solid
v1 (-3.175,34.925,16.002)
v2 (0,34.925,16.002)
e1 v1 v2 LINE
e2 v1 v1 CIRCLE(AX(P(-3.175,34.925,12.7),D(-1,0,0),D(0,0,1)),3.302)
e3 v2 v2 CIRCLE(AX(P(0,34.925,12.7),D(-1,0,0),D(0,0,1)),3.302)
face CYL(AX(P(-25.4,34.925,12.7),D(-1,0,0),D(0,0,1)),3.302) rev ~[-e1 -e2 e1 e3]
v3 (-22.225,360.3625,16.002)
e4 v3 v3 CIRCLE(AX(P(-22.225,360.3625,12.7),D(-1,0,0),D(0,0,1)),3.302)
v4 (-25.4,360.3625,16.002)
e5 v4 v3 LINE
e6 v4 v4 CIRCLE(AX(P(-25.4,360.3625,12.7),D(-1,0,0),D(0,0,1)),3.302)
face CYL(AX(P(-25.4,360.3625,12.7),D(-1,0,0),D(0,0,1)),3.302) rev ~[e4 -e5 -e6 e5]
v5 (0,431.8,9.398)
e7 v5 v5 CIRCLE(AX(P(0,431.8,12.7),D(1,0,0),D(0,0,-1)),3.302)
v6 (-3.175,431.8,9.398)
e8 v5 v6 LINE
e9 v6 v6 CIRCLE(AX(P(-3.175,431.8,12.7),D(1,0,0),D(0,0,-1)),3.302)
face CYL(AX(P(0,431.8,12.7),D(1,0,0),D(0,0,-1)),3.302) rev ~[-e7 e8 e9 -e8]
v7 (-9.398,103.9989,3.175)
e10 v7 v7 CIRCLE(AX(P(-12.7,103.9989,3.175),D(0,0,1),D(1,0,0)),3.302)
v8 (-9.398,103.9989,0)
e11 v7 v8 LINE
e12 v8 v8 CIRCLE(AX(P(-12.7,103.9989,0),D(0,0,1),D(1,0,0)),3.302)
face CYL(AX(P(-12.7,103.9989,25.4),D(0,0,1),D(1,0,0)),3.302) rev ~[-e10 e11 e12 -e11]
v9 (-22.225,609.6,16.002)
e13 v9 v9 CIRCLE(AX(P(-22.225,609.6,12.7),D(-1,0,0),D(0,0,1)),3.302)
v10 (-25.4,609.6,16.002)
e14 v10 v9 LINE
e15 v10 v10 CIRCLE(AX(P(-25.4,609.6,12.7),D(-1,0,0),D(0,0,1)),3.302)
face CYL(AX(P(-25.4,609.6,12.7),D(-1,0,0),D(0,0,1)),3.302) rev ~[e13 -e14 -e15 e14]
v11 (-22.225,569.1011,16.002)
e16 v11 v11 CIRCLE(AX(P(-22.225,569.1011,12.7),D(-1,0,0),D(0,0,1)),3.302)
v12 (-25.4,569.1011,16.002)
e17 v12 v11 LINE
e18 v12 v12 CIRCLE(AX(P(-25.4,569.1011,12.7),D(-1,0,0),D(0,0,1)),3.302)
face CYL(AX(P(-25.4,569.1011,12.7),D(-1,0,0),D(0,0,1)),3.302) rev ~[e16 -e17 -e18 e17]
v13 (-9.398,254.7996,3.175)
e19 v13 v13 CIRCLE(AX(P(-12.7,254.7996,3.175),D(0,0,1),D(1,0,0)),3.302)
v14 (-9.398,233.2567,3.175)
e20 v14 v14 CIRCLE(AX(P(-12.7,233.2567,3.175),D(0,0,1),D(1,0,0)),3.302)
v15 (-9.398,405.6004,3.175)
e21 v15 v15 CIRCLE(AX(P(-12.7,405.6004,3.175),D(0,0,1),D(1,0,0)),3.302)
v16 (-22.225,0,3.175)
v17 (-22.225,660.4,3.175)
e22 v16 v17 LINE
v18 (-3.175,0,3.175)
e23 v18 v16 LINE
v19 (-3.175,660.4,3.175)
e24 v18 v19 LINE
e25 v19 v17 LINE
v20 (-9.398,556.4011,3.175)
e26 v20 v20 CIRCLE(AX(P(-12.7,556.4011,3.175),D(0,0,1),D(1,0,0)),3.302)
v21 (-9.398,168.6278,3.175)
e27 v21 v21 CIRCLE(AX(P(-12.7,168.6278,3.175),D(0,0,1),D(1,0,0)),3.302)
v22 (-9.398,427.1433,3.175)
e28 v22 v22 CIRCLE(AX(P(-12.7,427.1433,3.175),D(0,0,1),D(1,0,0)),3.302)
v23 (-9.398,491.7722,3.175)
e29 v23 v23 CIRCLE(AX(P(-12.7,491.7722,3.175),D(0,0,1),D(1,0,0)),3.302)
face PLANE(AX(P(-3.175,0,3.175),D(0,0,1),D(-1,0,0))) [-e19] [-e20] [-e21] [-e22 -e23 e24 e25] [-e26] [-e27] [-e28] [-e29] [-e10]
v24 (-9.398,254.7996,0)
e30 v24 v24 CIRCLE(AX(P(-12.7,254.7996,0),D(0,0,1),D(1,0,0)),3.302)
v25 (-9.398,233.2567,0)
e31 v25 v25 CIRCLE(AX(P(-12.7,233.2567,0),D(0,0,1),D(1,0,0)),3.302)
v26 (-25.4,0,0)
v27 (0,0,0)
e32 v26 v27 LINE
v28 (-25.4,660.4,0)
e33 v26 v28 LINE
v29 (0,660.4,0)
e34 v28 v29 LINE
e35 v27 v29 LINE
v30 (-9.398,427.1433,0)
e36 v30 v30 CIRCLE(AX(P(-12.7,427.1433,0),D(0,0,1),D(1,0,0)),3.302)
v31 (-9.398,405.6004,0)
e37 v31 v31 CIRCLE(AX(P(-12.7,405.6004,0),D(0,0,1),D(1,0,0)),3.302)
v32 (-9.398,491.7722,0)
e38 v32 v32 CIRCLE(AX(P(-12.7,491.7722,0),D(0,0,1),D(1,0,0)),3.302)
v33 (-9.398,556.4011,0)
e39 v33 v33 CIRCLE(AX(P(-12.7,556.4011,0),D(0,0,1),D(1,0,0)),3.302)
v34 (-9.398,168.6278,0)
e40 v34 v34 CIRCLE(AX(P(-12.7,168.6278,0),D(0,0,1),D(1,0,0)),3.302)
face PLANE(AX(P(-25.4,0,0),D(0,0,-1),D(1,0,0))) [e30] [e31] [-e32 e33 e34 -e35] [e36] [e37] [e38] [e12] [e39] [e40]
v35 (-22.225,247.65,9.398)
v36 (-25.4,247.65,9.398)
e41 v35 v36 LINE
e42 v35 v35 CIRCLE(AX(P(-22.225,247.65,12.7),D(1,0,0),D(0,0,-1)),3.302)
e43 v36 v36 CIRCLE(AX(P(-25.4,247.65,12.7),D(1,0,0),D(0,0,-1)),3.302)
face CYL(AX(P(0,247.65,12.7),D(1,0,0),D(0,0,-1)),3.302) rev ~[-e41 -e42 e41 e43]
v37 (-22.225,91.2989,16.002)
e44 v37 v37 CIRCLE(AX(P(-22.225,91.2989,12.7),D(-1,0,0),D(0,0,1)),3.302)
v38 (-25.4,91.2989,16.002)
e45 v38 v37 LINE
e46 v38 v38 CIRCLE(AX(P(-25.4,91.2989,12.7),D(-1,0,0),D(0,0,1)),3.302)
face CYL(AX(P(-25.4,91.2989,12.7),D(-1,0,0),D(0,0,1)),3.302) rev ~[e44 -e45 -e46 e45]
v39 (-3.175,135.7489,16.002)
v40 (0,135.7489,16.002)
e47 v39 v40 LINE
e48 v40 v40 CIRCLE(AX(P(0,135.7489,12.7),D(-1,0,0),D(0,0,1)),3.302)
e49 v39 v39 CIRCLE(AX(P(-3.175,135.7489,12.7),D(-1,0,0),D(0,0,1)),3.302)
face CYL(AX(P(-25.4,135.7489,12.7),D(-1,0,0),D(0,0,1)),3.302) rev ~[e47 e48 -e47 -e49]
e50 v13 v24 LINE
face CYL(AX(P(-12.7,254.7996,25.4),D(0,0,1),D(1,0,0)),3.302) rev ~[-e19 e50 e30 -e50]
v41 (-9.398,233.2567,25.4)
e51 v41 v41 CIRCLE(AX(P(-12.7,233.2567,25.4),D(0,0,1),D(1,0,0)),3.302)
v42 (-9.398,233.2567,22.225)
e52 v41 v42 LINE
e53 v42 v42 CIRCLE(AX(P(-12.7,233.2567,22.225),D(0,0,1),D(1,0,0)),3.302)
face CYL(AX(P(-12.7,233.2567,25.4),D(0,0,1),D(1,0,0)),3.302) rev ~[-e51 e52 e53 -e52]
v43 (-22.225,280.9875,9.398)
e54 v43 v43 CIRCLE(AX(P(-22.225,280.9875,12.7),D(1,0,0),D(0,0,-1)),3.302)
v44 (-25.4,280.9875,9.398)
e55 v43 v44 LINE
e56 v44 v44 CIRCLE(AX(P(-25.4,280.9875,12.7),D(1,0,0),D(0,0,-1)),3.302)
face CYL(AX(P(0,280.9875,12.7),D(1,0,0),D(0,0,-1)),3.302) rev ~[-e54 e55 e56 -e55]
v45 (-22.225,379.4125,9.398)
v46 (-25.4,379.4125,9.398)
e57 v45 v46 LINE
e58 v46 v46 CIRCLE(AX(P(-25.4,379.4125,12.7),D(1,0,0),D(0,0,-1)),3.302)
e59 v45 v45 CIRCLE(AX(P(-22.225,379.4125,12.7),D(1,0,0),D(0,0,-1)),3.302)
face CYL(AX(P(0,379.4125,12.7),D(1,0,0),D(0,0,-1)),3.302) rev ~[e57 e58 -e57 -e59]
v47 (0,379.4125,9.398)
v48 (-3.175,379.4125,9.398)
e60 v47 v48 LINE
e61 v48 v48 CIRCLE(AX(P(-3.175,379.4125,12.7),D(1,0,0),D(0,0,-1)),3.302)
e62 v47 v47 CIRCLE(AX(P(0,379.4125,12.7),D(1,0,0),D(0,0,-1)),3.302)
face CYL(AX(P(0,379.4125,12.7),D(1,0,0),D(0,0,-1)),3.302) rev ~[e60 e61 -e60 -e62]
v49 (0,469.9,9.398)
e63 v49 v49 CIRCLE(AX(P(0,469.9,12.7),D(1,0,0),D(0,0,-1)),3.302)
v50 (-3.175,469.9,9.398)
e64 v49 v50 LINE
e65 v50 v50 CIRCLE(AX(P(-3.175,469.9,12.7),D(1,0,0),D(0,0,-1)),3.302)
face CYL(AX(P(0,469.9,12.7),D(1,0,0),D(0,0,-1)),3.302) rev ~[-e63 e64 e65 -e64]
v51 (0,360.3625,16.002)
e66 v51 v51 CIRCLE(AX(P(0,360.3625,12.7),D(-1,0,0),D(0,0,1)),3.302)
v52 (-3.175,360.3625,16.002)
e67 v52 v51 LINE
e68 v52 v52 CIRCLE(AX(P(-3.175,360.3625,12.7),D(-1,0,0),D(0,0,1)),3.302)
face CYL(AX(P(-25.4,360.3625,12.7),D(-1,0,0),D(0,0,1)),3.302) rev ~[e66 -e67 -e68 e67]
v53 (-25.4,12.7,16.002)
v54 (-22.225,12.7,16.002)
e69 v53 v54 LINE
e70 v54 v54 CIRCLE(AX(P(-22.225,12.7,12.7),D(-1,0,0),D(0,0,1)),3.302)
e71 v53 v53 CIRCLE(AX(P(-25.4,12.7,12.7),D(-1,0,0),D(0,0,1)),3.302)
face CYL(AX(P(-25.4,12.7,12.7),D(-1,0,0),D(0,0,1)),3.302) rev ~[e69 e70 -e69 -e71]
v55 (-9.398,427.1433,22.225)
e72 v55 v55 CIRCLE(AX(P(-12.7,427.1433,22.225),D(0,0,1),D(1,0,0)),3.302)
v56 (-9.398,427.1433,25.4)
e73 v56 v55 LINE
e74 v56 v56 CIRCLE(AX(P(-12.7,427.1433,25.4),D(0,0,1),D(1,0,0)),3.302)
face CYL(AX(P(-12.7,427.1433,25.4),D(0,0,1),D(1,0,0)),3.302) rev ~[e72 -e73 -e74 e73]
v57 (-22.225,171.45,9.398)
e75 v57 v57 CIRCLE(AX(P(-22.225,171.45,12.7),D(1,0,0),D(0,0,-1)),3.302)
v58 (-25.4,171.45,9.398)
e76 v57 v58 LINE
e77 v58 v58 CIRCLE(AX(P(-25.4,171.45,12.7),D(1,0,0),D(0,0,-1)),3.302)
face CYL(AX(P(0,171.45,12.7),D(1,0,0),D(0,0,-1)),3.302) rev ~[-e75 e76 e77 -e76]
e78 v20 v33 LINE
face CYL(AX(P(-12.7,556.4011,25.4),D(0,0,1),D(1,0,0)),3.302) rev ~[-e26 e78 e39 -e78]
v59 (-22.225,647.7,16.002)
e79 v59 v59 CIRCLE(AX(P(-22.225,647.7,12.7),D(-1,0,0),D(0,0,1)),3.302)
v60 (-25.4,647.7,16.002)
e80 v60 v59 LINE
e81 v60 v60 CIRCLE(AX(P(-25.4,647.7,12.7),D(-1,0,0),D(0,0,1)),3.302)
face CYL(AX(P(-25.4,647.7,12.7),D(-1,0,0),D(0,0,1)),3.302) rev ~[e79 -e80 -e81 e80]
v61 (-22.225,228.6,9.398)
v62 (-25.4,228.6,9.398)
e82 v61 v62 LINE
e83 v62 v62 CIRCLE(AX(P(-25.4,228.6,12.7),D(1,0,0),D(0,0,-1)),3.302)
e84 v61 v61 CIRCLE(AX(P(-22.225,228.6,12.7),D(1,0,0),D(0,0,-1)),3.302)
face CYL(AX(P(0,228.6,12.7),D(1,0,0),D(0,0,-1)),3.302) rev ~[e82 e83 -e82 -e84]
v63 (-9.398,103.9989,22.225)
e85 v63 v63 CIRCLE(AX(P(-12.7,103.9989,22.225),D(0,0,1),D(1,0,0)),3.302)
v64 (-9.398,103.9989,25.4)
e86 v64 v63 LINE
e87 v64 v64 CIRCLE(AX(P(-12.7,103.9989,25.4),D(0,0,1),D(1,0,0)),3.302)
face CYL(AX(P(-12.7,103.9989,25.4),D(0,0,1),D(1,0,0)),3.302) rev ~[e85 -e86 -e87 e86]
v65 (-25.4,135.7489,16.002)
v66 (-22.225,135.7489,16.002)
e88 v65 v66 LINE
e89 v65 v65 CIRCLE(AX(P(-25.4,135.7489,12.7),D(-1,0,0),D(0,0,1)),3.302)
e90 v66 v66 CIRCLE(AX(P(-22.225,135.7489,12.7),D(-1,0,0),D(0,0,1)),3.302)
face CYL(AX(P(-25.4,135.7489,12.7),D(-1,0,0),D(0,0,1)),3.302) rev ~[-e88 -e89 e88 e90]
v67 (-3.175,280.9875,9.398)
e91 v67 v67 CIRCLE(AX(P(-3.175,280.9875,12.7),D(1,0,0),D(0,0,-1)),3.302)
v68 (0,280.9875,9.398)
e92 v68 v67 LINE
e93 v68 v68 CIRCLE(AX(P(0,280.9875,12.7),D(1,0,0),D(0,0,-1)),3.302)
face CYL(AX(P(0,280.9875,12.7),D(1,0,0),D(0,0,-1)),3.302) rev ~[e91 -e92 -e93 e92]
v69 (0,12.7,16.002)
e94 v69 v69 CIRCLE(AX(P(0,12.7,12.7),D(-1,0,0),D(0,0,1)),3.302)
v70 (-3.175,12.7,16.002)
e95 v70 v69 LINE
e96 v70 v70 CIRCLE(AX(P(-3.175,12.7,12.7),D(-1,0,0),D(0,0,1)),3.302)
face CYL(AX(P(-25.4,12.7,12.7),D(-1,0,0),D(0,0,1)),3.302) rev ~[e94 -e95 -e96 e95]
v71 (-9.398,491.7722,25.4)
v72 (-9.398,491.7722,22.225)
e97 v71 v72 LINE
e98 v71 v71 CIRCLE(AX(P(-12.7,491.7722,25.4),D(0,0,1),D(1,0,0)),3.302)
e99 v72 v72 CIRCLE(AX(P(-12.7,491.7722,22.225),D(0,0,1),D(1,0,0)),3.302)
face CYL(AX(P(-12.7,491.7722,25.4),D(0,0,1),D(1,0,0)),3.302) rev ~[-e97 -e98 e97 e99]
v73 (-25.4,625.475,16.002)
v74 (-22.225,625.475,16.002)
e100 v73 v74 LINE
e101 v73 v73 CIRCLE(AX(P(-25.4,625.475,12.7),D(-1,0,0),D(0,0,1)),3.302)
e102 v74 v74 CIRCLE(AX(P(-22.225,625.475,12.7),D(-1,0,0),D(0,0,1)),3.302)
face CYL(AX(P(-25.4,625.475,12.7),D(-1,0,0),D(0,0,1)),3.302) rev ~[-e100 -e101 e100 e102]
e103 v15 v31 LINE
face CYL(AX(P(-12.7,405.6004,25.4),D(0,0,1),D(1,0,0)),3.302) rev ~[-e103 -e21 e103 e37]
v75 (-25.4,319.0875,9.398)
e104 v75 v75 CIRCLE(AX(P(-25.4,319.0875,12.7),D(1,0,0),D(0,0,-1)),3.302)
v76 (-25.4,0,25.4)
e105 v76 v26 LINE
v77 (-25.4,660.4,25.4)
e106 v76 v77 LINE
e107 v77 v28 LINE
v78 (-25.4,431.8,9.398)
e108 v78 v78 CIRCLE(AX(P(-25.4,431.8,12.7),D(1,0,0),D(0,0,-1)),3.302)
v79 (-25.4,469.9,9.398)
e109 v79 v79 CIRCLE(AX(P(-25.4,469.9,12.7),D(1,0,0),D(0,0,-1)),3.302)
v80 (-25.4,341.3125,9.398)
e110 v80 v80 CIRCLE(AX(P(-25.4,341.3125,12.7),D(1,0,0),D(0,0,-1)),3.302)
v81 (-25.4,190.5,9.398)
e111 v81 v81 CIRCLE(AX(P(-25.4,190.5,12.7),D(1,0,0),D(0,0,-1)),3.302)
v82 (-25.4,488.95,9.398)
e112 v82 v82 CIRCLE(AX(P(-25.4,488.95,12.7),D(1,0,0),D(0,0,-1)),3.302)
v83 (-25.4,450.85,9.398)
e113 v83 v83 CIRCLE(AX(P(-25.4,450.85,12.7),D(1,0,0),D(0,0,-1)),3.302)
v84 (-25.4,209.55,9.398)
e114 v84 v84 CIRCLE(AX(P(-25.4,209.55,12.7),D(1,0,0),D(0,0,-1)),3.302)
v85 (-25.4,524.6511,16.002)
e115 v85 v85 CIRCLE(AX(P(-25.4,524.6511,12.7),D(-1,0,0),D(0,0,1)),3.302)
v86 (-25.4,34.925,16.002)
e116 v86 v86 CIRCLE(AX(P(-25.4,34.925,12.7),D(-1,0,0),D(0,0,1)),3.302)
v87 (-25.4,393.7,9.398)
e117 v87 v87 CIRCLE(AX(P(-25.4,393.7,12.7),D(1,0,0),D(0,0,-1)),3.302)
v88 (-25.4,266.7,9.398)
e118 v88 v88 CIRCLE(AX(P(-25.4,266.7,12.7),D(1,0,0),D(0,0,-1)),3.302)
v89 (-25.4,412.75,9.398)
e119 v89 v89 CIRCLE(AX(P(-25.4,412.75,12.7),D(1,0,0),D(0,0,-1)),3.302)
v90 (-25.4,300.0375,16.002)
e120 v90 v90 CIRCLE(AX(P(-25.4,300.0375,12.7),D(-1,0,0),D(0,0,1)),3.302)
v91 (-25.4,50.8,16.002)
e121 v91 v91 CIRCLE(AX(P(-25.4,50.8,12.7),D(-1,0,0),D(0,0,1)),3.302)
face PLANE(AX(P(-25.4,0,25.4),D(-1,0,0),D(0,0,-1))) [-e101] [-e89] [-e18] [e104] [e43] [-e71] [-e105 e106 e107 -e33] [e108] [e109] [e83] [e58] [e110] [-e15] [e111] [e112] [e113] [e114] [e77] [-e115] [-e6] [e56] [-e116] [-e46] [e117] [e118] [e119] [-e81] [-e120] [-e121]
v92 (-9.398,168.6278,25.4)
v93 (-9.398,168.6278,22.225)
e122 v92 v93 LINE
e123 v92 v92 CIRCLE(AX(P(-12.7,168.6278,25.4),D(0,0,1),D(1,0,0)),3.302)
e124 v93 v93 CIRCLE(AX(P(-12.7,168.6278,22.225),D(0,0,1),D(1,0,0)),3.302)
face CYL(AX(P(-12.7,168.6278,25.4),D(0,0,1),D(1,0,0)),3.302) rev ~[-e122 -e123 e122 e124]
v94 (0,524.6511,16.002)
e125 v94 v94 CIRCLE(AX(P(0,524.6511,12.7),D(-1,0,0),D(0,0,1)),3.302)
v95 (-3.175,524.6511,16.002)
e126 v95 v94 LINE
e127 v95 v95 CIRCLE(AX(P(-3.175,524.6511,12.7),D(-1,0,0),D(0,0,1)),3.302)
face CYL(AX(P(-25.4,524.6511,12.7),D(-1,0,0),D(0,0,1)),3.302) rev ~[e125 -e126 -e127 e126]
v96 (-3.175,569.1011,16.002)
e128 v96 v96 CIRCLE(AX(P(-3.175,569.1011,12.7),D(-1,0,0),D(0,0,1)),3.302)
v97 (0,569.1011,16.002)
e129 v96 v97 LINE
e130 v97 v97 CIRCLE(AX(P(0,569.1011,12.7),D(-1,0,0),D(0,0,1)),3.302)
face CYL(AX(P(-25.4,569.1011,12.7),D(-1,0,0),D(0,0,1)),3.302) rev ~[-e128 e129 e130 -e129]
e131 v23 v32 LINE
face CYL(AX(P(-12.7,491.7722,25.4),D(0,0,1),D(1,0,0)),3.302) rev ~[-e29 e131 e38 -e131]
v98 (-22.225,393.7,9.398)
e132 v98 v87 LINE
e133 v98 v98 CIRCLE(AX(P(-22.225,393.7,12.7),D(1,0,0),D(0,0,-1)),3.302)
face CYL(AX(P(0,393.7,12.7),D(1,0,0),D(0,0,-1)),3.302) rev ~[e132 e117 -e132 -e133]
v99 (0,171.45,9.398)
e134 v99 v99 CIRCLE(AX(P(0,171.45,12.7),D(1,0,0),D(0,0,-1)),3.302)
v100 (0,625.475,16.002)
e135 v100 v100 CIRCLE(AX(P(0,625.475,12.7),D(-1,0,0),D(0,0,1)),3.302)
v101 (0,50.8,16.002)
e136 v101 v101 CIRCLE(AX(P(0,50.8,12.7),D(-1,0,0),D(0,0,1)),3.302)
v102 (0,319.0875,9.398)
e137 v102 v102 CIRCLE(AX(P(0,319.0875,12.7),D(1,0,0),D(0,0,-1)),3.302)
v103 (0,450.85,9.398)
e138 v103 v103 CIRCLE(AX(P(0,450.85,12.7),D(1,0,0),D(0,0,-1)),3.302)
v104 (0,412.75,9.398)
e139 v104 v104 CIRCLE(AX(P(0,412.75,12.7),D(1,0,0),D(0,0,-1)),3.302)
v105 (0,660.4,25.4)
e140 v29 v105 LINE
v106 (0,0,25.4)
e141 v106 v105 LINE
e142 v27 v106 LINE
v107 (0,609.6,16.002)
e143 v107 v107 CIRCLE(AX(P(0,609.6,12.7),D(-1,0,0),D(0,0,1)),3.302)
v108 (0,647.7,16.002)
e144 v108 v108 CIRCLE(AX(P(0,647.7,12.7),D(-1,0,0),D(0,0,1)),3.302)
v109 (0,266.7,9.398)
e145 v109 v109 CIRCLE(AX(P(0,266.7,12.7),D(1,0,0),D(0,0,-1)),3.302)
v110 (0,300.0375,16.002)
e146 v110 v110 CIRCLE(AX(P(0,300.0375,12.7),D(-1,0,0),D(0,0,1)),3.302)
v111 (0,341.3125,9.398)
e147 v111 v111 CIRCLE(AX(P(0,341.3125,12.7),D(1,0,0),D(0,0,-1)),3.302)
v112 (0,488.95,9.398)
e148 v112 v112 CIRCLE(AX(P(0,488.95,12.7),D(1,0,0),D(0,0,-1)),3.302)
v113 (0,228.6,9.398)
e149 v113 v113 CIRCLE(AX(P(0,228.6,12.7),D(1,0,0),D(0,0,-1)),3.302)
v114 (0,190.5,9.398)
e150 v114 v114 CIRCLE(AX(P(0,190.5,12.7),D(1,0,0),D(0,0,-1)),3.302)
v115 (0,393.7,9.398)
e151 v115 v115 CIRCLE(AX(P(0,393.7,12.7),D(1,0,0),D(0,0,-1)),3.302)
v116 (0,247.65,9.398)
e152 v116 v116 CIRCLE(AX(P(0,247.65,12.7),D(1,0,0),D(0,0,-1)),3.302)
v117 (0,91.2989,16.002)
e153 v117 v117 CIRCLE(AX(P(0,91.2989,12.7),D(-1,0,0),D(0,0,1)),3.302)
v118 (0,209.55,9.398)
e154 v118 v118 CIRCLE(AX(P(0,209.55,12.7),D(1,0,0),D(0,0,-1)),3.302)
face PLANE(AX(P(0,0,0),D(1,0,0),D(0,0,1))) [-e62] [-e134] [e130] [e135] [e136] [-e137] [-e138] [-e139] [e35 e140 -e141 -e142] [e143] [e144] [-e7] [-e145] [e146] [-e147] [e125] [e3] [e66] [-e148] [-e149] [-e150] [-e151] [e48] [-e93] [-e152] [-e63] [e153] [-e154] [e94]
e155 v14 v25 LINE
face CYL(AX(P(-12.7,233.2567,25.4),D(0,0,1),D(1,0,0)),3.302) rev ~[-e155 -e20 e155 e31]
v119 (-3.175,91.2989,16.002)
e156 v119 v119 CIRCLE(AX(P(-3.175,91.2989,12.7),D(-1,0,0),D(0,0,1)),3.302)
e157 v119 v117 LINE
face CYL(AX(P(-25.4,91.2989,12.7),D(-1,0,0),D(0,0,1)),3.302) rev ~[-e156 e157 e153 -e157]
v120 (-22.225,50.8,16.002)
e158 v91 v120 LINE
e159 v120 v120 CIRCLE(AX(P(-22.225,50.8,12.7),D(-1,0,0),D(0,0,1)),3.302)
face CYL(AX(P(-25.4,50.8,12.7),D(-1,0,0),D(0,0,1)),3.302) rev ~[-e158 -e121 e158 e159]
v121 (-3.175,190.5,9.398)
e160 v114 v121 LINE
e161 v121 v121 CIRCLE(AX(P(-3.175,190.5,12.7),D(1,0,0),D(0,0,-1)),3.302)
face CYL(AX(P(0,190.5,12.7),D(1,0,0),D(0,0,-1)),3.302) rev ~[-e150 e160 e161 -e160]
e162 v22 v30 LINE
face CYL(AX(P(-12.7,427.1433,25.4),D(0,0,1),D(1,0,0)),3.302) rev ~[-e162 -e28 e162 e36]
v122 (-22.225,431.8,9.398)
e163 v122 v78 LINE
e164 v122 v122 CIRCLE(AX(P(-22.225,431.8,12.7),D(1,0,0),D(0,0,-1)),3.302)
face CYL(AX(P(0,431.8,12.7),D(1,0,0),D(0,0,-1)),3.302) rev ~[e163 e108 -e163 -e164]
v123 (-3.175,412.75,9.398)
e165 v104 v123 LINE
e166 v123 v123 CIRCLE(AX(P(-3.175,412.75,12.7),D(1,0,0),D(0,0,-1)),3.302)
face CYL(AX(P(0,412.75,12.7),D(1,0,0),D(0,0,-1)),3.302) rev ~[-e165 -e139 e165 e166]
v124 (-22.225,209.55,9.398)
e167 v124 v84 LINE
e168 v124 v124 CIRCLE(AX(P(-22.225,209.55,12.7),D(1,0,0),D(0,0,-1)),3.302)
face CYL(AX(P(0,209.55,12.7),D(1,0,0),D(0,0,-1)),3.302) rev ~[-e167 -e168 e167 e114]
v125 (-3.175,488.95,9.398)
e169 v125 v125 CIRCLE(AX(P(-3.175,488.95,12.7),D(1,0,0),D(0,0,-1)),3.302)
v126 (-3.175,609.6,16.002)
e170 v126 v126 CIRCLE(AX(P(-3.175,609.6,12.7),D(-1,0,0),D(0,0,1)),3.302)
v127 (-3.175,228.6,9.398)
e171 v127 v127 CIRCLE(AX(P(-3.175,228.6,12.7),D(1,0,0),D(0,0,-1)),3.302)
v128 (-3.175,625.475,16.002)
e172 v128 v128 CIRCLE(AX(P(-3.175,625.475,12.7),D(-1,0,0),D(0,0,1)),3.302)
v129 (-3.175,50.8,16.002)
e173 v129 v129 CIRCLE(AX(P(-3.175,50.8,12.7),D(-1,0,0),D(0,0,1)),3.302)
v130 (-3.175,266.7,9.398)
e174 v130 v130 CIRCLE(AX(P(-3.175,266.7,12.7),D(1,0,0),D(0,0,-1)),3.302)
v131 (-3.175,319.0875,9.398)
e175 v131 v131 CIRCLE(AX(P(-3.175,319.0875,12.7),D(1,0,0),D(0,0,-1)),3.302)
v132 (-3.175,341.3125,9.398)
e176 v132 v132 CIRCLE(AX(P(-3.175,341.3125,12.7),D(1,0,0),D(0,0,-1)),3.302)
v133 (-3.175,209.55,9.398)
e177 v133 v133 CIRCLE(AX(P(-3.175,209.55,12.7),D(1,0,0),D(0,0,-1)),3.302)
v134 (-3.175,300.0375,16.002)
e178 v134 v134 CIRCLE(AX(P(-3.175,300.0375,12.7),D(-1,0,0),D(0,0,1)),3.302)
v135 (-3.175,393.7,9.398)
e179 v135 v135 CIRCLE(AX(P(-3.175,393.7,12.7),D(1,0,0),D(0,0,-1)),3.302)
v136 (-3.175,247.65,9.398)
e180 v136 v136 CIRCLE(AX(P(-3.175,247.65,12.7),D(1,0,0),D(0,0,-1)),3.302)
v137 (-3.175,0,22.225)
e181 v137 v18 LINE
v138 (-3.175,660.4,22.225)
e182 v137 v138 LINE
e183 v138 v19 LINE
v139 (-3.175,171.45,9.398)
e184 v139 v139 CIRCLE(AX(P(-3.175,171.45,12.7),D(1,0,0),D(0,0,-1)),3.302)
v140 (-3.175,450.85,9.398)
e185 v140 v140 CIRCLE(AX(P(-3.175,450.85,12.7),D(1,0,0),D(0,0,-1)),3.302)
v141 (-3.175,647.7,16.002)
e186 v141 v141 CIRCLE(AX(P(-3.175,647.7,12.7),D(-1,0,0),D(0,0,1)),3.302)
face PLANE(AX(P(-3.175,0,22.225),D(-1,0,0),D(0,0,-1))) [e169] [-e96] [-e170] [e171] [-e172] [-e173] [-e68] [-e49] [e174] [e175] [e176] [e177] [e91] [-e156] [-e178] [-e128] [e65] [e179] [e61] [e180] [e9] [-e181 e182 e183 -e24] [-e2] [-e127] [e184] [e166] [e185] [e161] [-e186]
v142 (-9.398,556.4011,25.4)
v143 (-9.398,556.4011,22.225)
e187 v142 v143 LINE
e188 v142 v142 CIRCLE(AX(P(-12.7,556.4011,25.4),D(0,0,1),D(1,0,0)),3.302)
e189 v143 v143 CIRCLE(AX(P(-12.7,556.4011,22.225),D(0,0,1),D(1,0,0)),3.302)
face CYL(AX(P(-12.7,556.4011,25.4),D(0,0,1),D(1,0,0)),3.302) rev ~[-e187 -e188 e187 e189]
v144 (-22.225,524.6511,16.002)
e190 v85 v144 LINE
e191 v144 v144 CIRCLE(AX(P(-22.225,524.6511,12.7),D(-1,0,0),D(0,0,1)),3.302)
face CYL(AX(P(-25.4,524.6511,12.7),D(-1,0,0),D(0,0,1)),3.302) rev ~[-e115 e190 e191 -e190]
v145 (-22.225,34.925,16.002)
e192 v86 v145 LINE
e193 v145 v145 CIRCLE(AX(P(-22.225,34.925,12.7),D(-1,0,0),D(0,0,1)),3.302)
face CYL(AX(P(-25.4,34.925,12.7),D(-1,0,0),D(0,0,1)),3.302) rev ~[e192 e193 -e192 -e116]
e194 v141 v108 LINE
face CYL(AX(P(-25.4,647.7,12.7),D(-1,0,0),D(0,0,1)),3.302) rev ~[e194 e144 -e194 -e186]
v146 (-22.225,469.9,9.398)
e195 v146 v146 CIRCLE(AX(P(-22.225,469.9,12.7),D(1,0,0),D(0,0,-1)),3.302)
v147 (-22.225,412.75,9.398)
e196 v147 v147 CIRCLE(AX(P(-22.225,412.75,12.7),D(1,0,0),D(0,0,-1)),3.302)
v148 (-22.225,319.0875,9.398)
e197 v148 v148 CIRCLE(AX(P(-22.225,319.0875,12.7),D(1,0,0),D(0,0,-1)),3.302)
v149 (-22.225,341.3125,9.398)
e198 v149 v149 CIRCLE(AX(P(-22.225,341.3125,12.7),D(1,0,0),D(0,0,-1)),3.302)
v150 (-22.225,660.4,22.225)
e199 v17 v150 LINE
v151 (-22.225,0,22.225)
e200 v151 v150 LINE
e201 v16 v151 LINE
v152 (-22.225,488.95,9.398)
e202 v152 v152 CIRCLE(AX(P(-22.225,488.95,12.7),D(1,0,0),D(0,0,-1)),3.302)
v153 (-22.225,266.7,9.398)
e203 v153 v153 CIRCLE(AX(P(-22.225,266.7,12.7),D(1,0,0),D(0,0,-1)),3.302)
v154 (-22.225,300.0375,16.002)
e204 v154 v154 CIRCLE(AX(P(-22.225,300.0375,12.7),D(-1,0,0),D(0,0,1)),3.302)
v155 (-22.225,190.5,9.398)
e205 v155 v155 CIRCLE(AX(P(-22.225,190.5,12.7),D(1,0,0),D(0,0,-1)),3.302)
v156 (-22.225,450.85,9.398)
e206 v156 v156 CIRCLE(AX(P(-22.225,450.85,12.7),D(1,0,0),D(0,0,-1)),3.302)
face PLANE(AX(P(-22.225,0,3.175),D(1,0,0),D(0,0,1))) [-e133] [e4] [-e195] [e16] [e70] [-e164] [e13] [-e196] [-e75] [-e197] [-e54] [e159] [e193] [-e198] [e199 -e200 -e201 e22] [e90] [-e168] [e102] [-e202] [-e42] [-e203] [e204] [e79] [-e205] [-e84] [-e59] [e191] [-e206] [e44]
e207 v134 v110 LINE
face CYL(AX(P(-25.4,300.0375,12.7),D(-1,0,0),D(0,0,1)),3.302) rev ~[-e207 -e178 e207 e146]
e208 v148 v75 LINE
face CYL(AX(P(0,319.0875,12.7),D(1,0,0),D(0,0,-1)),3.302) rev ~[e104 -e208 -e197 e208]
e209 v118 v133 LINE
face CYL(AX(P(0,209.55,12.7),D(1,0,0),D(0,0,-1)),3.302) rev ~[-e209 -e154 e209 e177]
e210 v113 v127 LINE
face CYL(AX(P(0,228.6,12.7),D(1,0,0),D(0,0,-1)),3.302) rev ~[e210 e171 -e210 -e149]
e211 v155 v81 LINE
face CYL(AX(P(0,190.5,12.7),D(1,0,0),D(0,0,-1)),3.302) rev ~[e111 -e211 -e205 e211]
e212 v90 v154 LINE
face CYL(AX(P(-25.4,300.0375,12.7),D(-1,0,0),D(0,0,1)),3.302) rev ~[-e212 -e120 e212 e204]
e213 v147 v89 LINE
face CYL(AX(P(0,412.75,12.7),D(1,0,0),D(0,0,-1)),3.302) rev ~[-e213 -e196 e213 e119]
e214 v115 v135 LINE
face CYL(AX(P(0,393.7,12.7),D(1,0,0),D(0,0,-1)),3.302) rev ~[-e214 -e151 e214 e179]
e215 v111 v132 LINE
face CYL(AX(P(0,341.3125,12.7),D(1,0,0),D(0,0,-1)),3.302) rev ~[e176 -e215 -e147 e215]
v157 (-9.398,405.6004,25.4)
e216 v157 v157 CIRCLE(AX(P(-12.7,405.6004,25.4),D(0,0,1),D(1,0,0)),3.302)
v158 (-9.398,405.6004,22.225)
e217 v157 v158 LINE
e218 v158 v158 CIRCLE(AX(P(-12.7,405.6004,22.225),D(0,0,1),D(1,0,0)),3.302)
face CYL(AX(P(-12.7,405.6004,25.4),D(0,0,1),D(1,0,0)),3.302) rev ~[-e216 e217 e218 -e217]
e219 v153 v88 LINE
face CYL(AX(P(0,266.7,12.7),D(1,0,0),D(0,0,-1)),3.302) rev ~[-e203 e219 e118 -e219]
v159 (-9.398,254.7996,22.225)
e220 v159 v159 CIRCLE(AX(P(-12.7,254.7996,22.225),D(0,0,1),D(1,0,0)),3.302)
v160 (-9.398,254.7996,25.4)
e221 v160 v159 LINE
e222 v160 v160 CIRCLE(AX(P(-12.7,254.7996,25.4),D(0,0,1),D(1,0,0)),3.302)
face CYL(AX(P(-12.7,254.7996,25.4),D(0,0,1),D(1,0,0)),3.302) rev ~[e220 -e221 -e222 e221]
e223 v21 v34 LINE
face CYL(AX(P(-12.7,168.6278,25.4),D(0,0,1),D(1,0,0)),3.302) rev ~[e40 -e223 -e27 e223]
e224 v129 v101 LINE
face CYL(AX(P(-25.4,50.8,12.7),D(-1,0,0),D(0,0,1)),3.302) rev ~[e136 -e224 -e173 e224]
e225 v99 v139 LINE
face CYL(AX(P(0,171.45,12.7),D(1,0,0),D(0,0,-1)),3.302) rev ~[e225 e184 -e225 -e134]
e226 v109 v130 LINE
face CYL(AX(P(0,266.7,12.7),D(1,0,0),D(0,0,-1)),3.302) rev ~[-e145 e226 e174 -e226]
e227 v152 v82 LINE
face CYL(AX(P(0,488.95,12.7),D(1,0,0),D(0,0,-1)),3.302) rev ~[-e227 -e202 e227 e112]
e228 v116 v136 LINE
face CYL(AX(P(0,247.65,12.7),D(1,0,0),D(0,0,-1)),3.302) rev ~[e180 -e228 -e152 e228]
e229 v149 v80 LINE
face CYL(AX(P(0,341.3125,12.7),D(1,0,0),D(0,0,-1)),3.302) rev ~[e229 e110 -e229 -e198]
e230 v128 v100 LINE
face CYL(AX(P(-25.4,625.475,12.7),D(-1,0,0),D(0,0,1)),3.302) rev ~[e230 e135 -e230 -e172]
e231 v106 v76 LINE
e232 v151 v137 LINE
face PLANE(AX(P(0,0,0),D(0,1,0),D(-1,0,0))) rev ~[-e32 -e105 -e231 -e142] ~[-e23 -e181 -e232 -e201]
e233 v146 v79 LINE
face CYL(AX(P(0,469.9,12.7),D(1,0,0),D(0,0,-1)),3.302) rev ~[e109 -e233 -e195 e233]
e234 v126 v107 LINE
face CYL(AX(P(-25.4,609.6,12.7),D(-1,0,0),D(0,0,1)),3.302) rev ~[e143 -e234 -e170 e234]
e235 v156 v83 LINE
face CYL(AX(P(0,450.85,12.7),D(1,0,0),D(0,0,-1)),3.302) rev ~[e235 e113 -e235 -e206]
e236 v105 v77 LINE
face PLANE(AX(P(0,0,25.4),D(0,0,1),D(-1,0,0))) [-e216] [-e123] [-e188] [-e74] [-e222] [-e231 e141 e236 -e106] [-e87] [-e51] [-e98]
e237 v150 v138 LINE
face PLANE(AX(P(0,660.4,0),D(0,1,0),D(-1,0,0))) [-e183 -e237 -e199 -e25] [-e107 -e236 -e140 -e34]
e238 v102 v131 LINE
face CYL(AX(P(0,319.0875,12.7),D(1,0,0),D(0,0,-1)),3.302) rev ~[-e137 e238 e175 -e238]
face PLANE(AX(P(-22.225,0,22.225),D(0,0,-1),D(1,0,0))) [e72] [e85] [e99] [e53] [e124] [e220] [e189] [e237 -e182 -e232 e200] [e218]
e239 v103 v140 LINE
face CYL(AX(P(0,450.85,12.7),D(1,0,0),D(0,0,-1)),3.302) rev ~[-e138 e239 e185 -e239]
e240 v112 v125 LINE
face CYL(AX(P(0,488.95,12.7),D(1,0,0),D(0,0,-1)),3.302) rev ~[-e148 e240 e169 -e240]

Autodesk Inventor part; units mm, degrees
ref_plane "YZ Plane" through (0, 0, 0) normal (1, 0, 0) x (0, 1, 0)
ref_plane "XZ Plane" through (0, 0, 0) normal (0, 1, 0) x (-1, 0, 0)
ref_plane "XY Plane" through (0, 0, 0) normal (0, 0, 1) x (1, 0, 0)
sketch "Sketch1" plane through (0, 0, 0) normal (0, 1, 0) x (-1, 0, 0)
  line L0 (0, 25.4) -> (25.4, 25.4)
  line L1 (25.4, 25.4) -> (25.4, 0)
  line L2 (25.4, 0) -> (0, 0)
  line L3 (0, 0) -> (0, 25.4)
  line L4 (22.225, 22.225) -> (3.175, 22.225)
  line L5 (3.175, 22.225) -> (3.175, 3.175)
  line L6 (3.175, 3.175) -> (22.225, 3.175)
  line L7 (22.225, 3.175) -> (22.225, 22.225)
  dimension "d0" = 25.4
  dimension "d1" = 25.4
  dimension "d2" = 3.175
extrude "Extrusion1" add sketch "Sketch1" along normal blind 660.4
sketch "Sketch2" plane through (-25.4, 0, 25.4) normal (0, 0, 1) x (1, 0, 0)
  circle A0 centre (12.7, 534.8581) radius 3.302 projected
  circle A1 centre (12.7, 491.7722) radius 3.302 projected
  circle A2 centre (12.7, 448.6863) radius 3.302 projected
  circle A3 centre (12.7, 405.6004) radius 3.302 projected
  circle A4 centre (12.7, 362.5144) radius 3.302 projected
  circle A5 centre (12.7, 319.4285) radius 3.302 projected
  circle A6 centre (12.7, 276.3426) radius 3.302 projected
  circle A7 centre (12.7, 233.2567) radius 3.302 projected
  circle A8 centre (12.7, 190.1707) radius 3.302 projected
  circle A9 centre (12.7, 147.0848) radius 3.302 projected
  circle A10 centre (12.7, 103.9989) radius 3.302 projected
  circle A11 centre (12.7, 125.5419) radius 3.302 projected
  circle A12 centre (12.7, 168.6278) radius 3.302 projected
  circle A13 centre (12.7, 211.7137) radius 3.302 projected
  circle A14 centre (12.7, 254.7996) radius 3.302 projected
  circle A15 centre (12.7, 297.8856) radius 3.302 projected
  circle A16 centre (12.7, 340.9715) radius 3.302 projected
  circle A17 centre (12.7, 384.0574) radius 3.302 projected
  circle A18 centre (12.7, 427.1433) radius 3.302 projected
  circle A19 centre (12.7, 470.2293) radius 3.302 projected
  circle A20 centre (12.7, 513.3152) radius 3.302 projected
  circle A21 centre (12.7, 556.4011) radius 3.302 projected
  line L0 (25.4, 25.4) -> (0, 25.4) projected
  line L1 (25.4, 25.4) -> (25.4, 635) projected
  line L2 (0, 635) -> (25.4, 635) projected
  line L3 (0, 25.4) -> (0, 635) projected
extrude "Extrusion2" cut sketch "Sketch2" against normal through all contours A1 | A3 | A7 | A10 | A12 | A14 | A18 | A21
sketch "Sketch3" plane through (-25.4, 0, 0) normal (-1, 0, 0) x (0, 0, 1)
  line L0 (25.4, 0) -> (25.4, 660.4) projected
  line L1 (0, 0) -> (0, 660.4) projected
  line L2 (0, 556.4011) -> (25.4, 556.4011) construction
  line L3 (0, 405.6004) -> (25.4, 405.6004) construction
  line L4 (0, 254.7996) -> (25.4, 254.7996) construction
  line L5 (0, 103.9989) -> (25.4, 103.9989) construction
  line L6 (12.7, 569.1011) -> (12.7, 524.6511) construction
  line L7 (12.7, 435.7629) -> (12.7, 375.4379) construction
  line L8 (12.7, 277.0246) -> (12.7, 232.5746) construction
  line L9 (12.7, 135.7489) -> (12.7, 91.2989) construction
  circle A0 centre (12.7, 569.1011) radius 3.302
  circle A1 centre (12.7, 524.6511) radius 3.302
  circle A2 centre (12.7, 435.7629) radius 3.302
  circle A3 centre (12.7, 375.4379) radius 3.302
  circle A4 centre (12.7, 277.0246) radius 3.302
  circle A5 centre (12.7, 232.5746) radius 3.302
  circle A6 centre (12.7, 135.7489) radius 3.302
  circle A7 centre (12.7, 91.2989) radius 3.302
  line L10 (0, 330.2) -> (25.4, 330.2) construction
  line L11 (12.7, 360.3625) -> (12.7, 300.0375) construction
  circle A8 centre (12.7, 360.3625) radius 3.302
  circle A9 centre (12.7, 300.0375) radius 3.302
  line L12 (0, 660.4) -> (25.4, 660.4) projected
  line L13 (0, 113.5239) -> (25.4, 113.5239) construction
  line L14 (25.4, 0) -> (0, 0) projected
  line L15 (0, 546.8761) -> (25.4, 546.8761) construction
  circle A10 centre (12.7, 12.7) radius 3.302 projected
  circle A11 centre (12.7, 34.925) radius 3.302 projected
  circle A12 centre (12.7, 50.8) radius 3.302 projected
  line L16 (22.225, 553.0991) -> (22.225, 559.7031) projected
  line L17 (22.225, 402.2984) -> (22.225, 408.9024) projected
  line L18 (22.225, 251.4976) -> (22.225, 258.1016) projected
  line L19 (22.225, 100.6969) -> (22.225, 107.3009) projected
  circle A13 centre (12.7, 647.7) radius 3.302 projected
  circle A14 centre (12.7, 625.475) radius 3.302 projected
  circle A15 centre (12.7, 609.6) radius 3.302 projected
  point P0 (12.7, 254.7996)
  point P1 (12.7, 405.6004)
  point P2 (12.7, 330.2)
  point P3 (12.7, 113.5239)
  point P4 (12.7, 546.8761)
  point P5 (22.225, 556.4011)
  point P6 (22.225, 405.6004)
  point P7 (22.225, 254.7996)
  point P8 (22.225, 103.9989)
  dimension "d7" = 44.45
  dimension "d8" = 60.325
  dimension "d9" = 44.45
  dimension "d10" = 44.45
  dimension "d11" = 6.604
  dimension "d12" = 6.604
  dimension "d13" = 6.604
  dimension "d14" = 6.604
  dimension "d15" = 6.604
  dimension "d16" = 6.604
  dimension "d17" = 6.604
  dimension "d18" = 6.604
  dimension "d21" = 60.325
  dimension "d22" = 6.604
  dimension "d23" = 6.604
  dimension "d27" = 9.525
  dimension "d28" = 9.525
extrude "Extrusion3" cut sketch "Sketch3" against normal blind 25.4 contours A0 | A1 | A6 | A7 | A8 | A9 | A10 | A11 | A12 | A13 | A14 | A15
sketch "Sketch4" plane through (0, 0, 25.4) normal (1, 0, 0) x (0, 0, -1)
  line L0 (25.4, 0) -> (25.4, 660.4) projected
  line L1 (0, 0) -> (0, 660.4) projected
  line L2 (0, 330.2) -> (25.4, 330.2) construction
  line L3 (12.7, 374.65) -> (12.7, 285.75) construction
  circle A0 centre (12.7, 374.65) radius 3.302 construction
  circle A1 centre (12.7, 285.75) radius 3.302 construction
  circle A2 centre (12.7, 393.7) radius 3.302
  circle A3 centre (12.7, 412.75) radius 3.302
  circle A4 centre (12.7, 431.8) radius 3.302
  circle A5 centre (12.7, 450.85) radius 3.302
  circle A6 centre (12.7, 469.9) radius 3.302
  circle A7 centre (12.7, 266.7) radius 3.302
  circle A8 centre (12.7, 247.65) radius 3.302
  circle A9 centre (12.7, 228.6) radius 3.302
  circle A10 centre (12.7, 209.55) radius 3.302
  circle A11 centre (12.7, 190.5) radius 3.302
  circle A12 centre (12.7, 488.95) radius 3.302
  circle A13 centre (12.7, 171.45) radius 3.302
  circle A14 centre (12.7, 360.3625) radius 3.302 construction
  circle A15 centre (12.7, 300.0375) radius 3.302 construction
  circle A16 centre (12.7, 319.0875) radius 3.302
  circle A17 centre (12.7, 341.3125) radius 3.302
  line L4 (12.7, 379.4125) -> (12.7, 374.65) construction
  line L5 (12.7, 285.75) -> (12.7, 280.9875) construction
  circle A18 centre (12.7, 379.4125) radius 3.302
  circle A19 centre (12.7, 280.9875) radius 3.302
  point P0 (12.7, 330.2)
  dimension "d33" = 88.9
  dimension "d34" = 6.604
  dimension "d37" = 19.05
  dimension "d44" = 19.05
  dimension "d51" = 19.05
  dimension "d52" = 19.05
  dimension "d53" = 19.05
  dimension "d54" = 19.05
extrude "Extrusion4" cut sketch "Sketch4" against normal blind 25.4
equation "\"d9\" = d7"
equation "\"d10\" = d7"
equation "\"d12\" = d11"
equation "\"d13\" = d11"
equation "\"d14\" = d11"
equation "\"d15\" = d11"
equation "\"d16\" = d11"
equation "\"d17\" = d11"
equation "\"d18\" = d11"
equation "\"d21\" = d8"
equation "\"d22\" = d11"
equation "\"d23\" = d11"
equation "\"d27\" = d28"
equation "\"d52\" = d51"
equation "\"d53\" = d51"
equation "\"d54\" = d51"
properties part number "Chassis Part1 (26x28)" material "Aluminum 6061"
